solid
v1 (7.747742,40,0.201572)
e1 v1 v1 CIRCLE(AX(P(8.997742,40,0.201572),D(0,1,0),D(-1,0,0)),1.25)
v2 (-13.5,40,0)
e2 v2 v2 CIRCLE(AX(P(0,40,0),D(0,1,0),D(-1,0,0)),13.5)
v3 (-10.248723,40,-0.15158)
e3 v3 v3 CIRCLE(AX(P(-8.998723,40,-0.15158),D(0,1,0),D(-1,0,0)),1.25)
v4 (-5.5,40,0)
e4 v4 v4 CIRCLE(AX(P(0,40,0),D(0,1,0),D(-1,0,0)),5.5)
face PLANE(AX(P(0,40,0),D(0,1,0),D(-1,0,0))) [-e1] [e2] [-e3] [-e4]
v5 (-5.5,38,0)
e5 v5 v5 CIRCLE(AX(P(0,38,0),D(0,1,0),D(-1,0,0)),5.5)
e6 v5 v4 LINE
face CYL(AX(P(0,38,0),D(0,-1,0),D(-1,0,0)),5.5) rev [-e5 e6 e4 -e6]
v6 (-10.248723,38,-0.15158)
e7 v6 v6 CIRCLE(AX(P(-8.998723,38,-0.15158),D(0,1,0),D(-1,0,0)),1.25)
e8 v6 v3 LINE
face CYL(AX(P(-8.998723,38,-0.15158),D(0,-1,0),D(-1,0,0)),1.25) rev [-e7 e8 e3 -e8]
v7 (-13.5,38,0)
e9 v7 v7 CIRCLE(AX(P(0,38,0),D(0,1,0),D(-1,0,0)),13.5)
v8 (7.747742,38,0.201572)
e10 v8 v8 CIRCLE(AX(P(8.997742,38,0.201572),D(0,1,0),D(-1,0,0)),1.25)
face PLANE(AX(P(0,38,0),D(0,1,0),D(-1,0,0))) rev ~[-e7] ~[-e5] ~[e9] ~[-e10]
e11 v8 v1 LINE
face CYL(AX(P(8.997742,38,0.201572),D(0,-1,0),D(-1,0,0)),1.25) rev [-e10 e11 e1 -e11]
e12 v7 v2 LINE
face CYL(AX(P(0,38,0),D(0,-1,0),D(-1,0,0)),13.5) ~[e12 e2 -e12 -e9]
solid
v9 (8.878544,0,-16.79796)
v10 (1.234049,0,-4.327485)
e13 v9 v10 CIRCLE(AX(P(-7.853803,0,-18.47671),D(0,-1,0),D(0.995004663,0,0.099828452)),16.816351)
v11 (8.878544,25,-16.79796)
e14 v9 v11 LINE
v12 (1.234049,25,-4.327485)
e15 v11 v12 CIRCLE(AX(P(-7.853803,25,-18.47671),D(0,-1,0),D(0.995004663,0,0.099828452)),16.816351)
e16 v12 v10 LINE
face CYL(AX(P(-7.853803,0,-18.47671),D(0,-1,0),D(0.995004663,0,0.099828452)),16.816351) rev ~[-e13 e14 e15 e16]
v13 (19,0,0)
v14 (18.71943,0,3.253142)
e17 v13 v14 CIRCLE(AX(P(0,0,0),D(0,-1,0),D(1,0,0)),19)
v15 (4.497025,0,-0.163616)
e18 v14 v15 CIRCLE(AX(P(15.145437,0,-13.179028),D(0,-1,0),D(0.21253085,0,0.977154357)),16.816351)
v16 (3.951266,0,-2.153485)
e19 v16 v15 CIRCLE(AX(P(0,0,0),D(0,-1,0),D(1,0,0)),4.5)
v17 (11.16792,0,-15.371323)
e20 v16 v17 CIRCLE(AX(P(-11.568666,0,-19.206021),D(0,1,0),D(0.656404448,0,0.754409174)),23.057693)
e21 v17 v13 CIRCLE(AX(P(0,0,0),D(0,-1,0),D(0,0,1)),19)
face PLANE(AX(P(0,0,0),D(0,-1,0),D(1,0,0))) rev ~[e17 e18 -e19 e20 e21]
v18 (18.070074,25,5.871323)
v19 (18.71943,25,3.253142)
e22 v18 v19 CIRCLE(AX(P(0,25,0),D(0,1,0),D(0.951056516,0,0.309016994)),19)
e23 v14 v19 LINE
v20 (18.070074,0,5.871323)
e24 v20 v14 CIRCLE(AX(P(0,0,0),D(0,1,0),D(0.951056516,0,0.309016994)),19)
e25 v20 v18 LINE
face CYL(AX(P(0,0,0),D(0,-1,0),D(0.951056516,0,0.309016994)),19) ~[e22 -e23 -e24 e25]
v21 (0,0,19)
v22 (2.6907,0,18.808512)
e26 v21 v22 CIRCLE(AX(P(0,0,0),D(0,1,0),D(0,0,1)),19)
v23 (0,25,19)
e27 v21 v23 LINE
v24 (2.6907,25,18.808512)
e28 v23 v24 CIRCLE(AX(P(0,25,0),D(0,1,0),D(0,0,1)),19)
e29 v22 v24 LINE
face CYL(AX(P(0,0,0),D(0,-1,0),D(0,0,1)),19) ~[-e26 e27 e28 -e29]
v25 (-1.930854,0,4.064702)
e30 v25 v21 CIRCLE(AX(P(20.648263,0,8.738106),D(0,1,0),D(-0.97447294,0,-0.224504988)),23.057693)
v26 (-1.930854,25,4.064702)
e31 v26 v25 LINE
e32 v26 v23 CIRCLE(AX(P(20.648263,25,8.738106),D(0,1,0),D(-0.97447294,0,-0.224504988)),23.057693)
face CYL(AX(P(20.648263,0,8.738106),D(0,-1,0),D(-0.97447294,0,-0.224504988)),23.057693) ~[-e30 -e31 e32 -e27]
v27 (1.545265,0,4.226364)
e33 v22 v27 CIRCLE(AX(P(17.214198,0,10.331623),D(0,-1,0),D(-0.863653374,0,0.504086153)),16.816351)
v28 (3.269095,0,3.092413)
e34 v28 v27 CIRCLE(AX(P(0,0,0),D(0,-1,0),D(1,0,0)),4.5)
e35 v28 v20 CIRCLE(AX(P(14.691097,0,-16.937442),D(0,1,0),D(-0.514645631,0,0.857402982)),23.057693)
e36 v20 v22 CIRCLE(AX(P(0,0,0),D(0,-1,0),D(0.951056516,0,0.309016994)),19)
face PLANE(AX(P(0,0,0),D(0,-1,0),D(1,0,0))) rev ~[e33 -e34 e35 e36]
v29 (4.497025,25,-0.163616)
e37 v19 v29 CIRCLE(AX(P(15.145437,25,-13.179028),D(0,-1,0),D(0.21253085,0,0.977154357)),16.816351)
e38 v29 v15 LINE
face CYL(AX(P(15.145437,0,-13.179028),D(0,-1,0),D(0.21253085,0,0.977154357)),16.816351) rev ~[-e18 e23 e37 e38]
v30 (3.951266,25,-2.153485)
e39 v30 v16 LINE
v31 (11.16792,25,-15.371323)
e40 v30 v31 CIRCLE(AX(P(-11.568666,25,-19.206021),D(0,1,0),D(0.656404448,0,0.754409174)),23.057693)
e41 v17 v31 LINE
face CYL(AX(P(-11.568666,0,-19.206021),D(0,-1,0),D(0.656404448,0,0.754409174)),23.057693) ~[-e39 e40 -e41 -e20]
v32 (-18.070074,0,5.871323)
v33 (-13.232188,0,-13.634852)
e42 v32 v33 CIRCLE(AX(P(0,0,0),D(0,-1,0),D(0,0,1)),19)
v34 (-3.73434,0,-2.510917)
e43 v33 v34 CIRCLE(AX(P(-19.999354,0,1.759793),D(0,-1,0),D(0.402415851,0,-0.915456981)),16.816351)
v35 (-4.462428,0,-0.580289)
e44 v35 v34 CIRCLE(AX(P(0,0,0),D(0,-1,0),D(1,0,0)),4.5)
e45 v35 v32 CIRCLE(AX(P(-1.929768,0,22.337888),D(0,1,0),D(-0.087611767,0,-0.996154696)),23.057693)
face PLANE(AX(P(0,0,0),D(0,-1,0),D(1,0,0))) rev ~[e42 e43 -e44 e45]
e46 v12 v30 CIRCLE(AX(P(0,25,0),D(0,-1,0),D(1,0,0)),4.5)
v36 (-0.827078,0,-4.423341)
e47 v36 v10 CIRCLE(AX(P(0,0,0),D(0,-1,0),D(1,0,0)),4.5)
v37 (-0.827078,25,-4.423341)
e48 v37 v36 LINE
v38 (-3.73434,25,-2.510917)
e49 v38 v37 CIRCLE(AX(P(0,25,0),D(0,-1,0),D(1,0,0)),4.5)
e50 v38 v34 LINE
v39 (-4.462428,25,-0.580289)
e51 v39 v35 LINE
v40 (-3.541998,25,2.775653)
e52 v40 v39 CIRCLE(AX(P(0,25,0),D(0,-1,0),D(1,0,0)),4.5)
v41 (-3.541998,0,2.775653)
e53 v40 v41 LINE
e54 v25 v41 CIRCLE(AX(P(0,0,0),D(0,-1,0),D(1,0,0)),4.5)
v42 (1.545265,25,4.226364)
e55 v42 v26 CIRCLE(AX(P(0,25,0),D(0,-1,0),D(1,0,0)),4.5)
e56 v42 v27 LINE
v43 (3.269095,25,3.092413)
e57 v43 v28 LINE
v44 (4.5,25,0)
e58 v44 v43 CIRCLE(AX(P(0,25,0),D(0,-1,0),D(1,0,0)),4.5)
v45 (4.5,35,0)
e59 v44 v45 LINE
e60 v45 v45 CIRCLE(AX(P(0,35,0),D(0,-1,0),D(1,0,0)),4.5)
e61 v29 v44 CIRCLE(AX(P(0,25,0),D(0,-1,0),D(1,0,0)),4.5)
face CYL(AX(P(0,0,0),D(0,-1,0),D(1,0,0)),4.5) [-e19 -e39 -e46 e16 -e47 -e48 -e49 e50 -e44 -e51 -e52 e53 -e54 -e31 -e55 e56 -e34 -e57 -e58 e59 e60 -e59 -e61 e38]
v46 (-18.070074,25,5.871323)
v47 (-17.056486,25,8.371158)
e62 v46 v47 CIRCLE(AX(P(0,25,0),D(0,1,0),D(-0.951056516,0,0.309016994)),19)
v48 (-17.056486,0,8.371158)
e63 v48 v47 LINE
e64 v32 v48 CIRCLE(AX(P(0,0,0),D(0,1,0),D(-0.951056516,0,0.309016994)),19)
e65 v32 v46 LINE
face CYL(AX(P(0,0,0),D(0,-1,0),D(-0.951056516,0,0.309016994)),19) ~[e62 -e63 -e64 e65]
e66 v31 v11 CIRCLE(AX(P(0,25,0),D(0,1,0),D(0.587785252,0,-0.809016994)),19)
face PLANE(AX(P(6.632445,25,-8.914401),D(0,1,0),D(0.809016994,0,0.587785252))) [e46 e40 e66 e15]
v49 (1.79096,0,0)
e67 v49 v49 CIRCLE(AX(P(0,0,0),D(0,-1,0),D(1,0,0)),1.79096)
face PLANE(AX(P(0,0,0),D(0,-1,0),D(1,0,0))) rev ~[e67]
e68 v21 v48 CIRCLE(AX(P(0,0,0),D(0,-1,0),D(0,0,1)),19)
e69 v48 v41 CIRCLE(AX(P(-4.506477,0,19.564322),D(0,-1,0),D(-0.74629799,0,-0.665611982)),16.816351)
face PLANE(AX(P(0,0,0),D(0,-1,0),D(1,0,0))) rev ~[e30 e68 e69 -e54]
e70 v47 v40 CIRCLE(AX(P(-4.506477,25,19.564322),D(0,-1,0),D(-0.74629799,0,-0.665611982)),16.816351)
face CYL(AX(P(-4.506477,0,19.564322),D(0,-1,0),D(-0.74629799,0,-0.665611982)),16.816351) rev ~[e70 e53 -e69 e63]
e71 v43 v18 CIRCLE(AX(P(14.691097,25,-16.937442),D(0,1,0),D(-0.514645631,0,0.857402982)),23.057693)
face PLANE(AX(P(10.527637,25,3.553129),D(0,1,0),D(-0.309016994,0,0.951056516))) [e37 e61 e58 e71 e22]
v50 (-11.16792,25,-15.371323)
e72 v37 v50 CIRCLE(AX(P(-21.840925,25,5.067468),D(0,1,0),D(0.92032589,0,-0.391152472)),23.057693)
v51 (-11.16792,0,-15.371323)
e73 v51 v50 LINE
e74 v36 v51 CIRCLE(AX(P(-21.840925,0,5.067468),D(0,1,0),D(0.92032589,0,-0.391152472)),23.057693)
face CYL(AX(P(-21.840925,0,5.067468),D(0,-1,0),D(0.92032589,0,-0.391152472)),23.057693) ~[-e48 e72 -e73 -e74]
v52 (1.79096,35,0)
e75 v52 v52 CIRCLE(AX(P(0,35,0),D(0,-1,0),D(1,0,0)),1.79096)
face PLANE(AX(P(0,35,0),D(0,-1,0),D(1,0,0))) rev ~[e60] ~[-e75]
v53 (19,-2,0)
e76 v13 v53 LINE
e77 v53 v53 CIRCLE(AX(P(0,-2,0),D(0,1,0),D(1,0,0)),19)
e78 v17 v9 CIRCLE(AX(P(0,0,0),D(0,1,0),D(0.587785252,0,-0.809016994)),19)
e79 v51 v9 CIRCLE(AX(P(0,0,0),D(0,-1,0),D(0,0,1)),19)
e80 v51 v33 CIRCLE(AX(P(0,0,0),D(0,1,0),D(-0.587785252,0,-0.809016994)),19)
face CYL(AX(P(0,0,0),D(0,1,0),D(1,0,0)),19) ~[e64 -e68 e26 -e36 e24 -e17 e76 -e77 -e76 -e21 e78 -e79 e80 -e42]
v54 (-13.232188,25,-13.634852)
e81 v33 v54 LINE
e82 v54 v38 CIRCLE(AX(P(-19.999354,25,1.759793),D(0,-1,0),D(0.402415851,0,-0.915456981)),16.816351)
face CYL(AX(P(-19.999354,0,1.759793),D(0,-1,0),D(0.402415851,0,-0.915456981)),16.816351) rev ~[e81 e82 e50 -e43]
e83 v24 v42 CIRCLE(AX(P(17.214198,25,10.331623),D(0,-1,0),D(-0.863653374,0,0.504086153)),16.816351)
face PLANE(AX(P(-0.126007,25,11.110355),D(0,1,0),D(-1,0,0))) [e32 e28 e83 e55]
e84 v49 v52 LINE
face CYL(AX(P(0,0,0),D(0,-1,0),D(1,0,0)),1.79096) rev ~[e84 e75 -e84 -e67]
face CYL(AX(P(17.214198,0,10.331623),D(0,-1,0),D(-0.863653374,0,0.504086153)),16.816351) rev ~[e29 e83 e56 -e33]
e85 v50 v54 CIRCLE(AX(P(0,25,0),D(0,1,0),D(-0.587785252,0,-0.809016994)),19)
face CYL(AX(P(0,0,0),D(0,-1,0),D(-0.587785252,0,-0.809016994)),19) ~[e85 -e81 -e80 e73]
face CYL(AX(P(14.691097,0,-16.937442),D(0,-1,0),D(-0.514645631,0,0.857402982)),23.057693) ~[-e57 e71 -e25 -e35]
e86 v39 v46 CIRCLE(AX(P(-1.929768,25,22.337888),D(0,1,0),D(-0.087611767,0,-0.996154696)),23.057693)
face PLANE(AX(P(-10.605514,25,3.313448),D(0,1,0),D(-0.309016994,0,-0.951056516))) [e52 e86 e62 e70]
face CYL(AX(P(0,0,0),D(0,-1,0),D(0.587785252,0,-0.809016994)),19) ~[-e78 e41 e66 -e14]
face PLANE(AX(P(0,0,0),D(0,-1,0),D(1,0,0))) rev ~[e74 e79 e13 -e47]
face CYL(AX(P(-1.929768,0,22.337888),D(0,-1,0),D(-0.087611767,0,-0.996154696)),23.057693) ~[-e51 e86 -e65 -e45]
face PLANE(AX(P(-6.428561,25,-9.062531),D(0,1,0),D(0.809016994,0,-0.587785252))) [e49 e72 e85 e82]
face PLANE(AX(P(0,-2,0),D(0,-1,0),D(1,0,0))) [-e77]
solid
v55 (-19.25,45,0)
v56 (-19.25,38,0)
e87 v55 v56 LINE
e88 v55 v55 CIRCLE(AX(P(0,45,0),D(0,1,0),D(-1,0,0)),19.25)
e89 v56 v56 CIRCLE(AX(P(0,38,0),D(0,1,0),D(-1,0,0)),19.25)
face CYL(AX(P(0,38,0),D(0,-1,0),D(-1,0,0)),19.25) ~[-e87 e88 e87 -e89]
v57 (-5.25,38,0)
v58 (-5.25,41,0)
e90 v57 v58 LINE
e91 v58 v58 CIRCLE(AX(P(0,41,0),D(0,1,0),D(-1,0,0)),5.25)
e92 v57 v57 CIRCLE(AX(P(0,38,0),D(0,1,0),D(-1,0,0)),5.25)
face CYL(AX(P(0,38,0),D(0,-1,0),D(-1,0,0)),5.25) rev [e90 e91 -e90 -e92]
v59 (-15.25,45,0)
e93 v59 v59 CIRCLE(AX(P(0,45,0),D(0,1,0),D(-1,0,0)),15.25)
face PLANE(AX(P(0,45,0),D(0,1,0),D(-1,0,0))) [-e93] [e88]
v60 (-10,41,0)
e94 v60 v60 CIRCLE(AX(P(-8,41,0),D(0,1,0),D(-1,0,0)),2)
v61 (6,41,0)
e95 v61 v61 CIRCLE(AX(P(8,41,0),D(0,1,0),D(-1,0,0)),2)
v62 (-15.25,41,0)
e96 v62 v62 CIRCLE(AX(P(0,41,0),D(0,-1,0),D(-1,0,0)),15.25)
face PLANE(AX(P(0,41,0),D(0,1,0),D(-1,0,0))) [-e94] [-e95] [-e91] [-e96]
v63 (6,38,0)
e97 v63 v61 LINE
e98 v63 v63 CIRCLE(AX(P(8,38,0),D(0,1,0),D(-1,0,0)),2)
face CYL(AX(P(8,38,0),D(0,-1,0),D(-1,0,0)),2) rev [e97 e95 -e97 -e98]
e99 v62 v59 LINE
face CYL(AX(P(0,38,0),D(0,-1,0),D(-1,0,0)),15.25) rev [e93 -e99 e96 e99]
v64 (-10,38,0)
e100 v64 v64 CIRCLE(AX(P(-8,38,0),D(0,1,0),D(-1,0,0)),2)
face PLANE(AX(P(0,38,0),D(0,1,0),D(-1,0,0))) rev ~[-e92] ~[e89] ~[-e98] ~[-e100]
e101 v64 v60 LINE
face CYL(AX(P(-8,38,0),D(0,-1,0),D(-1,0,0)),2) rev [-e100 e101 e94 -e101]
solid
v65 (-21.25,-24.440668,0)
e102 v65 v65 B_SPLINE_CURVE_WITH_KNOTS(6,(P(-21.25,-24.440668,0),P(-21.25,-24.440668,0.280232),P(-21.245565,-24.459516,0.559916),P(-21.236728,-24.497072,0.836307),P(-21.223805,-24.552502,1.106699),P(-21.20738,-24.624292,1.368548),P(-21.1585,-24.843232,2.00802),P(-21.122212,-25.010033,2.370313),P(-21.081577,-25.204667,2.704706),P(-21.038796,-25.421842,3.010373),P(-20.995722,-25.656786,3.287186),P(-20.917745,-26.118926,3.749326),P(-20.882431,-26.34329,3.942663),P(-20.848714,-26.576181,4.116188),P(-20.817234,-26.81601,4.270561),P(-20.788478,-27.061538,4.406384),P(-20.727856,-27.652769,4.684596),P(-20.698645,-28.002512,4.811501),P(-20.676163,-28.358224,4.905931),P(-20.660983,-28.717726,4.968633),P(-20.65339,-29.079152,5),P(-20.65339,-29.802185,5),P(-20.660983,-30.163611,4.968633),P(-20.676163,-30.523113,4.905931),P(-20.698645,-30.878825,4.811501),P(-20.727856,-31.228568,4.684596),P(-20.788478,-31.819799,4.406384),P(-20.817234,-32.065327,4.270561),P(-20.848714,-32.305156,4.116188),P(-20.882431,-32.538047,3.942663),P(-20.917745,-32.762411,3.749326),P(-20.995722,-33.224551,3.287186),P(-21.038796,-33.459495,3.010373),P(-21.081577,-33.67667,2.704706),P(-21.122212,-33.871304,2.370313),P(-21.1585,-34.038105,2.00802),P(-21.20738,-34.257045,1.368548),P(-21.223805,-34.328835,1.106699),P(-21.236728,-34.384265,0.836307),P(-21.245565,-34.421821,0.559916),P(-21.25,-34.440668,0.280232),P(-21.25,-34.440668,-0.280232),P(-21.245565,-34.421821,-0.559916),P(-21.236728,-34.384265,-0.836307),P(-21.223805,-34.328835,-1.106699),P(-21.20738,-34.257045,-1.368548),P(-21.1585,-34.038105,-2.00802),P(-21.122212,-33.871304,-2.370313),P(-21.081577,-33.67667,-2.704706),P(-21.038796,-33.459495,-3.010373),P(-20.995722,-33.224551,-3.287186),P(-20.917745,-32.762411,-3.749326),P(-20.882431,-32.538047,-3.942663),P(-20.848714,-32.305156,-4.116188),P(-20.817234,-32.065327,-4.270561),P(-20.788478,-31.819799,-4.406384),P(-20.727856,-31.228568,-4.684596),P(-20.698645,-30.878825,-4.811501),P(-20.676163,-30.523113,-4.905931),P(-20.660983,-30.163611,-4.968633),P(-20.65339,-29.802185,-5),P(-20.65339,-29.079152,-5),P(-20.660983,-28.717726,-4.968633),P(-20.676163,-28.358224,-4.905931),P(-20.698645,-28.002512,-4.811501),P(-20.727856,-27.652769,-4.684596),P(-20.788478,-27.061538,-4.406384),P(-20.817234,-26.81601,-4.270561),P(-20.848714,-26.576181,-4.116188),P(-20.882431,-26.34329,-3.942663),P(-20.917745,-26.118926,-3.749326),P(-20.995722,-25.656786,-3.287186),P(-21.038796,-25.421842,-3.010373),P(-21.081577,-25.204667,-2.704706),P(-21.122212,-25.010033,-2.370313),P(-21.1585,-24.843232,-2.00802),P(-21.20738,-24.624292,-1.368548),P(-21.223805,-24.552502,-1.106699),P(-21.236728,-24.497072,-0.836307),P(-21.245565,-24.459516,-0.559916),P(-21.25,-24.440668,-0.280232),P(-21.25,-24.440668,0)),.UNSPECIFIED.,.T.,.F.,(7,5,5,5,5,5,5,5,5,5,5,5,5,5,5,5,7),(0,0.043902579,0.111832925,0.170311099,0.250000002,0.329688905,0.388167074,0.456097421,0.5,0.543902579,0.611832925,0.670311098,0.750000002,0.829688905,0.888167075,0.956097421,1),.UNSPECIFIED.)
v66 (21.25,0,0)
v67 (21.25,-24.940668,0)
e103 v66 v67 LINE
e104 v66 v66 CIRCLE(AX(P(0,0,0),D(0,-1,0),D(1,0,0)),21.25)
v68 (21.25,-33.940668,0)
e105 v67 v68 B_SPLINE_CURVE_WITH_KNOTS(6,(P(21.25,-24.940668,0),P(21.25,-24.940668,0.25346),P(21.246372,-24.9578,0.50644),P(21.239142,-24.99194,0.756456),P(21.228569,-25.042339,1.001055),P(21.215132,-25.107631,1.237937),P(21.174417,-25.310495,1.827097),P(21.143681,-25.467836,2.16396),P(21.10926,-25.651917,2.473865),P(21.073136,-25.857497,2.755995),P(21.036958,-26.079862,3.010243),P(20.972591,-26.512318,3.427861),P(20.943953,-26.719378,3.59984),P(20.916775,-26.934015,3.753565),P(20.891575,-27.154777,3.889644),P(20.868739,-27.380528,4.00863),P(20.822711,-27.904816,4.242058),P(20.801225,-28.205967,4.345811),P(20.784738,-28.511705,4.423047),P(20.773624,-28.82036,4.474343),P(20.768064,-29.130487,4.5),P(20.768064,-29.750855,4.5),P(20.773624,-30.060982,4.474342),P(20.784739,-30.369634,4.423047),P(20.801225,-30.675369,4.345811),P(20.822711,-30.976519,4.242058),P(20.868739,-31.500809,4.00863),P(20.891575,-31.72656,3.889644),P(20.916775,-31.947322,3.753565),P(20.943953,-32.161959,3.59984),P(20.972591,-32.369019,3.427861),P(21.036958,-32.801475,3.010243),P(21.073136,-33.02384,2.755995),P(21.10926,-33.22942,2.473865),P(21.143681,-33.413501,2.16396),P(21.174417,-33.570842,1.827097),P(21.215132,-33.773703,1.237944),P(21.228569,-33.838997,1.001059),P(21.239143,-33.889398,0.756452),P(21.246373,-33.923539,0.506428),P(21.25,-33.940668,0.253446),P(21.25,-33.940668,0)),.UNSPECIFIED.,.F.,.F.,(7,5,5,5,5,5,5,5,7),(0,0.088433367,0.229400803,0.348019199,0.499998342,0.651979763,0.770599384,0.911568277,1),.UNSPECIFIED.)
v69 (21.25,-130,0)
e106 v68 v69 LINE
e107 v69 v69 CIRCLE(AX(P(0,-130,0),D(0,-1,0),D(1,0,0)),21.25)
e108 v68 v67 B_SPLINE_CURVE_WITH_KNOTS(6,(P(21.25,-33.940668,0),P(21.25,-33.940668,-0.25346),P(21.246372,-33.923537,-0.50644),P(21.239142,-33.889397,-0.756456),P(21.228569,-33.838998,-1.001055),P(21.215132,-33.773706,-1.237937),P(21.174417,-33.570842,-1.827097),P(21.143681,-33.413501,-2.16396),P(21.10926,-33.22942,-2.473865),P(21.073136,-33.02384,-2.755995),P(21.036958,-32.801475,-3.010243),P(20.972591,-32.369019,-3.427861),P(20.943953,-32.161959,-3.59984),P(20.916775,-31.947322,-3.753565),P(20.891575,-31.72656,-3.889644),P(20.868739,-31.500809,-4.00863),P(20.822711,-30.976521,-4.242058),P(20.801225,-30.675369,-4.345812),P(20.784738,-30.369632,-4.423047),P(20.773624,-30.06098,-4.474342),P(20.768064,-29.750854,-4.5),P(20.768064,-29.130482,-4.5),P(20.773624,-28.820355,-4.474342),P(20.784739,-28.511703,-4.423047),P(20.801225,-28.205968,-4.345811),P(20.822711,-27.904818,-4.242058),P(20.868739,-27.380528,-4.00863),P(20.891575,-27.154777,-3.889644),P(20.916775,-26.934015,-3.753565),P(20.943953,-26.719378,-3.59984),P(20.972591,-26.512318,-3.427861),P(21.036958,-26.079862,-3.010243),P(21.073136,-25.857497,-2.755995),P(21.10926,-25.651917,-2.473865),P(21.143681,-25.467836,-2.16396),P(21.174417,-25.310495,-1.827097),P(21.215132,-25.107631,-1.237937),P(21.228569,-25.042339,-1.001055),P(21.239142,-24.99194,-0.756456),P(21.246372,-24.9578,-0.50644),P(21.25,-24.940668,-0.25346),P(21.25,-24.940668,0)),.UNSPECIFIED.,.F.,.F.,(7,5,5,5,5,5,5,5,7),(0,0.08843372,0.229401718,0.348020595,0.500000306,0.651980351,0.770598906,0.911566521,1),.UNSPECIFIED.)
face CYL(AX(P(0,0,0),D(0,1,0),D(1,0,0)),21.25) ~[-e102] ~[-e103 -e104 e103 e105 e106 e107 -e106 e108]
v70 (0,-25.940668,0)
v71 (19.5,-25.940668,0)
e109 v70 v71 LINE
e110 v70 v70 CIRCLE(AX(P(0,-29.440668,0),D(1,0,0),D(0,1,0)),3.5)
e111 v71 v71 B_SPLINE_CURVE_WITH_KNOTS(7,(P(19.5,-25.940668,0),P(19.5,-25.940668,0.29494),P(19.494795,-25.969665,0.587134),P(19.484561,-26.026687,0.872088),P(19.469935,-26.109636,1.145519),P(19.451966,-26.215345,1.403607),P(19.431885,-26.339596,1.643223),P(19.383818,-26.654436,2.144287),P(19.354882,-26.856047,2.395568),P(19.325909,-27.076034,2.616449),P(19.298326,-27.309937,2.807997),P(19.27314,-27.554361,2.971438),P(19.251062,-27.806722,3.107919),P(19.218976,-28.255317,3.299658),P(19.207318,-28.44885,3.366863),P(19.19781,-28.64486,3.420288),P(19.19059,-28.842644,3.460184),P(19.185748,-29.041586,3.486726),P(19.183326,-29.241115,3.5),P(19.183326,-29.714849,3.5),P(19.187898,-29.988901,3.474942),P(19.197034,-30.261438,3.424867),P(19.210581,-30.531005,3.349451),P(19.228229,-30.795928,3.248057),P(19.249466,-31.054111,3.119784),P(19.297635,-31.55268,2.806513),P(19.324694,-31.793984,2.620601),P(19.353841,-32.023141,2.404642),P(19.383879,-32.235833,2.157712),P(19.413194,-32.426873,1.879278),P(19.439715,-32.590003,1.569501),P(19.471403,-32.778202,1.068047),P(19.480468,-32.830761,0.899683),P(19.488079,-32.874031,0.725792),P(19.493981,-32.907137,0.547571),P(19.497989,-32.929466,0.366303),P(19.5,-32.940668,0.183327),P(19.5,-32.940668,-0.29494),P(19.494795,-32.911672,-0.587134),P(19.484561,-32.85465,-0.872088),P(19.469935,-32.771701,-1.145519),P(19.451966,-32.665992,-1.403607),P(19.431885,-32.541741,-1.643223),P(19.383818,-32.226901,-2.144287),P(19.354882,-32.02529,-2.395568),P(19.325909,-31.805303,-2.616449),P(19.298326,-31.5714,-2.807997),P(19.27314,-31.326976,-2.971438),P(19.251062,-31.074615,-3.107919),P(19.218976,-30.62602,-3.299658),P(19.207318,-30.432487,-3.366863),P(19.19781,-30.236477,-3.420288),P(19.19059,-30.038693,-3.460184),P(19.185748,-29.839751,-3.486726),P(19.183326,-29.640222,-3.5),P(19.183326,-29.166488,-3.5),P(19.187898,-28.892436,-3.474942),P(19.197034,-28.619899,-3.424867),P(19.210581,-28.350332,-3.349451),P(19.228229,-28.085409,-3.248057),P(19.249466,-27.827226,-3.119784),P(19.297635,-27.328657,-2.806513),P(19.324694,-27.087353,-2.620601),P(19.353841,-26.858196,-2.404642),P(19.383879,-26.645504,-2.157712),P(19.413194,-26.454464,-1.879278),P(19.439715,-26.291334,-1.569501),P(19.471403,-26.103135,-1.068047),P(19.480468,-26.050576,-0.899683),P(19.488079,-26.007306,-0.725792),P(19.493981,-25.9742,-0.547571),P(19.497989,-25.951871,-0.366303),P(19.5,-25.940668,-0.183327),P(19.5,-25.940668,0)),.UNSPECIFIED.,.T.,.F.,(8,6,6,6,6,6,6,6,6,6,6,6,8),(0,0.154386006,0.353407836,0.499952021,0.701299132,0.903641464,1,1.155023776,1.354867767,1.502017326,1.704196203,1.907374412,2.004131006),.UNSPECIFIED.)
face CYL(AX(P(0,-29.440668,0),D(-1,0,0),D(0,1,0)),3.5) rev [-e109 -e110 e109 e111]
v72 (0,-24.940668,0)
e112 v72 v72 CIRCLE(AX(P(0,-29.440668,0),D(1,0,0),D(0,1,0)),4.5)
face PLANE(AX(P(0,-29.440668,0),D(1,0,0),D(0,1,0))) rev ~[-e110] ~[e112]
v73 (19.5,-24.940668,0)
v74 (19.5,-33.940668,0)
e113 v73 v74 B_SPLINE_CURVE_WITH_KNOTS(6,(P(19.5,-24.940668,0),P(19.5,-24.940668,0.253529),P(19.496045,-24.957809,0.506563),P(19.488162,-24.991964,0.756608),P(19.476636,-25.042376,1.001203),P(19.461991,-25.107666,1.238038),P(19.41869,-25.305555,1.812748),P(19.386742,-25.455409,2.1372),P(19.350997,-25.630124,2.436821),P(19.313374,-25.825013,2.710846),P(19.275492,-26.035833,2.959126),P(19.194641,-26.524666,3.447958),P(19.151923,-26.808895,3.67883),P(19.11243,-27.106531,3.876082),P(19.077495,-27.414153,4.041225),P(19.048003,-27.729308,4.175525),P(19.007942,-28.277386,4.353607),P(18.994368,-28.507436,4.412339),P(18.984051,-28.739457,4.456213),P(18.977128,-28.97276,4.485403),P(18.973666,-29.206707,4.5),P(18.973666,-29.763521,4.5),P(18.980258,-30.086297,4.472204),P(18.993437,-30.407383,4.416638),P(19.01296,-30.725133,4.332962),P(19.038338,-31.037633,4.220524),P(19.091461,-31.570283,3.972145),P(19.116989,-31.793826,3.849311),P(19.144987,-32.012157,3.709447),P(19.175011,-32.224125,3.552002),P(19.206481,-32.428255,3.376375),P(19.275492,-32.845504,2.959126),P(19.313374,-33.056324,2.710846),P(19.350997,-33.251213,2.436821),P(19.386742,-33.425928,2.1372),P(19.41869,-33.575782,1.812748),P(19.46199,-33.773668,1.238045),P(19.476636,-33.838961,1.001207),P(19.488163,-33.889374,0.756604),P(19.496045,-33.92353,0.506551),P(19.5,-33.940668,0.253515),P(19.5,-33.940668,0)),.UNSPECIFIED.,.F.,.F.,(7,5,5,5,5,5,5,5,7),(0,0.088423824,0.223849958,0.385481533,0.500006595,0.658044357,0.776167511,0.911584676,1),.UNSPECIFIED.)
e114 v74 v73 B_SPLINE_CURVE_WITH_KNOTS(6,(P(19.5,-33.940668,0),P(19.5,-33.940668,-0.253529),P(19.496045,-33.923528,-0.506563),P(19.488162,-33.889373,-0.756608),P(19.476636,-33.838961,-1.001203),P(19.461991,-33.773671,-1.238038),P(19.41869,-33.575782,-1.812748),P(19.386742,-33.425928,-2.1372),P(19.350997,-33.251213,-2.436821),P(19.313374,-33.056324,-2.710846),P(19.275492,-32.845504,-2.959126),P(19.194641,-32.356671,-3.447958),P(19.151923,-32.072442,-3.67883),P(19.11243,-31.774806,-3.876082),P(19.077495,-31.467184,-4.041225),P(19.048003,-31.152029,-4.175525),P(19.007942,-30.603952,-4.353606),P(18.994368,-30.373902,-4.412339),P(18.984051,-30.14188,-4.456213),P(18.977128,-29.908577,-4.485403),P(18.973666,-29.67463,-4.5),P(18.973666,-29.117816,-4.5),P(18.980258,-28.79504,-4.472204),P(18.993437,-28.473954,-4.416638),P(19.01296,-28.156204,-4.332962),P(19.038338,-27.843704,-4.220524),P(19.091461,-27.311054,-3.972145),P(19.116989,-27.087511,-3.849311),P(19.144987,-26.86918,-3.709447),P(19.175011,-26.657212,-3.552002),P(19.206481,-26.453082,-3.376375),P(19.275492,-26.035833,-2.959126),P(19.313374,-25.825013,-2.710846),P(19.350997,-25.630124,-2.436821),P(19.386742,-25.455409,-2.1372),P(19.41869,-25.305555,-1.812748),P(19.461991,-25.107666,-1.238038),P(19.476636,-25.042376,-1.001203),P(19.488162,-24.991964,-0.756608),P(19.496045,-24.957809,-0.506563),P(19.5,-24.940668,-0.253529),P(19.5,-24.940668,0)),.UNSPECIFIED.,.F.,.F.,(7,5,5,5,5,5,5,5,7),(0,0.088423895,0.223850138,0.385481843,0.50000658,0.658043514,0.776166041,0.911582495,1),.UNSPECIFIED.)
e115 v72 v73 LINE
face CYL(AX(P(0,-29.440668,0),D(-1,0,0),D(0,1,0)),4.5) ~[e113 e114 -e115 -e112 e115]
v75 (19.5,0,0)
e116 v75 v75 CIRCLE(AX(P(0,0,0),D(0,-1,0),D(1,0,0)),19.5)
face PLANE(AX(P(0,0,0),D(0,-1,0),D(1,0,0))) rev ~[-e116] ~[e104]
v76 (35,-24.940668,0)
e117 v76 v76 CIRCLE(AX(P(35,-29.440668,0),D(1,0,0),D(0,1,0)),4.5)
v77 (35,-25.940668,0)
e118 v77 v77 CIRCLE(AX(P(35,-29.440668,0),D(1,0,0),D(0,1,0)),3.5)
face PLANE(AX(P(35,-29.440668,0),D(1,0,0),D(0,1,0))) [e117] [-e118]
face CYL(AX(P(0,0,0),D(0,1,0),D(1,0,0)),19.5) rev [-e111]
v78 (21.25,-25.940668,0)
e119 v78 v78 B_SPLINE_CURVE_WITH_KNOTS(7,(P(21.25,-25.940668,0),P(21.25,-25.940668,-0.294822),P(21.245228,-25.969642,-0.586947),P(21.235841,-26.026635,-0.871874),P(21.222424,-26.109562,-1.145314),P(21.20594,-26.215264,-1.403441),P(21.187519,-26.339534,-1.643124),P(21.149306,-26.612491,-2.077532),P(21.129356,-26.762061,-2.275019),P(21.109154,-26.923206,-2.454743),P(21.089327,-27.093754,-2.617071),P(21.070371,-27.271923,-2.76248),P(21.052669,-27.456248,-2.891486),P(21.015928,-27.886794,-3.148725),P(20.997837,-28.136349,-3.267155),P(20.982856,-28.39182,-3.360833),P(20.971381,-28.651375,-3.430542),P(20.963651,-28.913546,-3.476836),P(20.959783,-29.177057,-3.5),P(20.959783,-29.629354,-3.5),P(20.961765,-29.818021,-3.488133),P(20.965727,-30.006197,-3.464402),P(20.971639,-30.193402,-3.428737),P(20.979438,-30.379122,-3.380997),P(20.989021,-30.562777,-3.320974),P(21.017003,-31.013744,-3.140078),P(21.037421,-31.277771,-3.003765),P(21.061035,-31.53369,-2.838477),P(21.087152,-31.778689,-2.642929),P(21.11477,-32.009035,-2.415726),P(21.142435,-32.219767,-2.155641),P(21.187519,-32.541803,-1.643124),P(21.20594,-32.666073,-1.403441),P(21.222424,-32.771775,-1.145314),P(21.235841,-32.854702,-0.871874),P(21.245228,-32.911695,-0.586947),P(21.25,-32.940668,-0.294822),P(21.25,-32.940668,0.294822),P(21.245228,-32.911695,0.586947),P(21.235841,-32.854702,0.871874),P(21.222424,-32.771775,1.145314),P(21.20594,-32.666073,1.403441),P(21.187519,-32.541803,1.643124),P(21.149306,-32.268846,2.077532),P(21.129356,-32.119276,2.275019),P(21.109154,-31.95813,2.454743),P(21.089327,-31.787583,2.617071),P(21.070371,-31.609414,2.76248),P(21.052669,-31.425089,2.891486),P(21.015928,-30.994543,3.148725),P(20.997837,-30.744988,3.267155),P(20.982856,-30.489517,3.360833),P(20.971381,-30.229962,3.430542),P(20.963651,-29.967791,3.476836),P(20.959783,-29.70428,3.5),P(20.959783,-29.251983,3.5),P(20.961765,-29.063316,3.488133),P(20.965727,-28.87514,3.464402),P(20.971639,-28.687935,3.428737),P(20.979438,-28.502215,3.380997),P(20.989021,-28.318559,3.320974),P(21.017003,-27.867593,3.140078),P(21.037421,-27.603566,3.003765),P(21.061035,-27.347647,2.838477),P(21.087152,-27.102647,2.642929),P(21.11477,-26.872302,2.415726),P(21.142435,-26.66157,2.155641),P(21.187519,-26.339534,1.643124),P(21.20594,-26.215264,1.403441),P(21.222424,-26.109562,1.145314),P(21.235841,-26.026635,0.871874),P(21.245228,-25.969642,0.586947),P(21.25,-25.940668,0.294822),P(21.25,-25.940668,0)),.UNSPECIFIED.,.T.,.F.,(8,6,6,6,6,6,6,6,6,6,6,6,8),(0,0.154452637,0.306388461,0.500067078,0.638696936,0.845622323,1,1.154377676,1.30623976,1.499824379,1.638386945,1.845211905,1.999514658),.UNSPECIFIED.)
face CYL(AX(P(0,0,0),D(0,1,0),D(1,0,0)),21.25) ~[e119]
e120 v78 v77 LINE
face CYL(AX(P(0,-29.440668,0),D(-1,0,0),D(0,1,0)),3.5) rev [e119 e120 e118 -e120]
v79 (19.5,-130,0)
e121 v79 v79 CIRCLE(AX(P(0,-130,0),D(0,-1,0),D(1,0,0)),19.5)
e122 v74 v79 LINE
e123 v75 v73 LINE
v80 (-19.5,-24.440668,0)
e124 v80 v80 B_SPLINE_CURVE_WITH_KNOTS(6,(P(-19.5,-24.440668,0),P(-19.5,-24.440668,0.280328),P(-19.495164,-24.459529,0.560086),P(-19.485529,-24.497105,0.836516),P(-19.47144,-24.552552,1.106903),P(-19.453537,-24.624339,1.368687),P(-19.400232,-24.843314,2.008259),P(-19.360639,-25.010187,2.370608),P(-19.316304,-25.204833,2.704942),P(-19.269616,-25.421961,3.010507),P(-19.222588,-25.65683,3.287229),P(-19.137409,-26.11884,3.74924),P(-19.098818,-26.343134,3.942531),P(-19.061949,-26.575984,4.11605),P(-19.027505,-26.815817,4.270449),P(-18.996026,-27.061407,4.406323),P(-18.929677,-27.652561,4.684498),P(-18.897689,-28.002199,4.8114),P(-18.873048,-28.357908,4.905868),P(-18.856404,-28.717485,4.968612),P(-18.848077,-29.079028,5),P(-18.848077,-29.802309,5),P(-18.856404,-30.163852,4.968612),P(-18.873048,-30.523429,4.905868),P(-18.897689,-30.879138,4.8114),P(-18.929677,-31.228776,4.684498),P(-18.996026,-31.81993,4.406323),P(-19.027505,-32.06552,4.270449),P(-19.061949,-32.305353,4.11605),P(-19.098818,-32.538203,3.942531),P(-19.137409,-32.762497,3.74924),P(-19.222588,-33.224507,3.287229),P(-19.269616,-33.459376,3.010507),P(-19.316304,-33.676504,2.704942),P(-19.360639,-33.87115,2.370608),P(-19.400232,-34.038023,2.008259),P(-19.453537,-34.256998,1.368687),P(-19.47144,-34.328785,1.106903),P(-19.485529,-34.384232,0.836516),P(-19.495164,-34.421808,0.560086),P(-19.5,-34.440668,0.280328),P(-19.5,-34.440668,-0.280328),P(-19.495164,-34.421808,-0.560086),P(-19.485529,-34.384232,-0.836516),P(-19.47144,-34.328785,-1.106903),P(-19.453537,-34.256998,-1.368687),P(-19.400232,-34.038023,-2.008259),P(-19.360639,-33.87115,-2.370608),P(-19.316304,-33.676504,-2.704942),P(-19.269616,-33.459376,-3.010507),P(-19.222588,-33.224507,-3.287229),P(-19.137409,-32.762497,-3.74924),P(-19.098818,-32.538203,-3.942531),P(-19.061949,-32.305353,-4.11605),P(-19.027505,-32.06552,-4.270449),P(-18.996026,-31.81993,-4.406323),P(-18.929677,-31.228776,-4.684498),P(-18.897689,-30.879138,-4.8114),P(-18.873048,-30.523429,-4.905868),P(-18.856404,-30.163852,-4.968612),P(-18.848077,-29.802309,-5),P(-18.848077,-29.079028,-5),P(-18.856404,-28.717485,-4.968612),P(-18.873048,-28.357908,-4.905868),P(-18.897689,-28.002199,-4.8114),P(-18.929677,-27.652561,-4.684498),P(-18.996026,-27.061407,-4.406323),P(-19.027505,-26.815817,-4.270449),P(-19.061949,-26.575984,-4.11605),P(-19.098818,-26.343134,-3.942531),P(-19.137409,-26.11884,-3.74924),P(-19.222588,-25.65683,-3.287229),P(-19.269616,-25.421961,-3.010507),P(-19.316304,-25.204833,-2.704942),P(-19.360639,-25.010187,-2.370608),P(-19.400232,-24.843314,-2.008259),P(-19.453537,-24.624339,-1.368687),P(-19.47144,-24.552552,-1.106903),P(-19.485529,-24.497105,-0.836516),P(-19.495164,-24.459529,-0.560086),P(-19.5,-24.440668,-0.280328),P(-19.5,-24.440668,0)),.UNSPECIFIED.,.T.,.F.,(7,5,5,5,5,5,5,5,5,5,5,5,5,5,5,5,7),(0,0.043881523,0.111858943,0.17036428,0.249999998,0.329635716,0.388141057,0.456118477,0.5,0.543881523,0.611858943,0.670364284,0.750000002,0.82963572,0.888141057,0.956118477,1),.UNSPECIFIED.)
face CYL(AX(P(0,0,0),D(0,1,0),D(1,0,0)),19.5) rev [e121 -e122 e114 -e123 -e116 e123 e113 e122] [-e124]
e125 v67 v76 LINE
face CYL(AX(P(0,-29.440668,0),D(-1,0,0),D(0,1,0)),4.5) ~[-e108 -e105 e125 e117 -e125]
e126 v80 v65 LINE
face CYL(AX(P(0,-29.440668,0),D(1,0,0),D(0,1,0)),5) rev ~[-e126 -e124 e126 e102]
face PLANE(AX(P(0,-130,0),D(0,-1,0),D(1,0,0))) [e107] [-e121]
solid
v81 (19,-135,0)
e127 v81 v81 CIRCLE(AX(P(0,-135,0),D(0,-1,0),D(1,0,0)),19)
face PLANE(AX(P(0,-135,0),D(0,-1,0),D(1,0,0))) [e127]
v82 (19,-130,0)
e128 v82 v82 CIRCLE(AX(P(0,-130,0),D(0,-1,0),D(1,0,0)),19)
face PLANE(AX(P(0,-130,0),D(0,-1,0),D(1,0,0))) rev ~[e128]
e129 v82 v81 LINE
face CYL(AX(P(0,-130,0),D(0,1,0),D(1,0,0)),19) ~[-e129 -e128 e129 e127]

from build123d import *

# Parameters (mm, degrees)
F0_R      = 21.25
F0_R_2    = 19.5
F1_DEPTH  = 130
F2_R      = 19
F3_DEPTH  = 2
F6_DEPTH  = 25
F7_COUNT  = 5
F8_R      = 4.5
F8_R_2    = 1.7909602392
F9_DEPTH  = 35
F11_R     = 13.5
F11_R_2   = 1.25
F11_R_3   = 5.5
F12_DEPTH = 2
F13_R     = 19
F14_DEPTH = 5
F15_R     = 19.25
F15_R_2   = 2
F15_R_3   = 5.25
F17_DEPTH = 3
F16_R     = 19.25
F16_R_2   = 15.25
F18_DEPTH = 7
F19_R     = 5
F20_DEPTH = 25
F21_R     = 4.5
F21_R_2   = 3.5
F22_DEPTH = 35


with BuildPart() as f1:
    # F0 (on Front) → F1 (new body)
    with BuildSketch(Plane.XZ):
        Circle(F0_R)
        Circle(F0_R_2, mode=Mode.SUBTRACT)
    extrude(amount=F1_DEPTH)

    # F19 (on Right) → F20 (cut)
    with BuildSketch(Plane.YZ):
        with Locations((-29.4406684911, 0)):
            Circle(F19_R)
    extrude(amount=-F20_DEPTH, mode=Mode.SUBTRACT)

    # F21 (on Right) → F22 (join)
    with BuildSketch(Plane.YZ):
        with Locations((-29.4406684911, 0)):
            Circle(F21_R)
        with Locations((-29.4406684911, 0)):
            Circle(F21_R_2, mode=Mode.SUBTRACT)
    extrude(amount=F22_DEPTH)


with BuildPart() as f3:
    # F2 (on Front) → F3 (new body)
    with BuildSketch(Plane.XZ):
        Circle(F2_R)
    extrude(amount=F3_DEPTH)

    # F5 (on face) → F6 (join)
    with BuildSketch(Plane(origin=(0, 0, 0), x_dir=(-1, 0, 0), z_dir=(0, 1, 0))):
        with BuildLine():
            ThreePointArc((-1.8208355153, 3.5615387161), (0, 4), (1.8208355153, 3.5615387161))
            ThreePointArc((1.8208355153, 3.5615387161), (2.2507159796, 11.4388461611), (0, 19))
            ThreePointArc((0, 19), (-1.3487526298, 18.9520676008), (-2.690700107, 18.8085122467))
            ThreePointArc((-2.690700107, 18.8085122467), (-0.4251484769, 11.2894652862), (-1.8208355153, 3.5615387161))
        make_face()
    extrude(amount=F6_DEPTH)


with BuildPart() as f7_1:
    # F7: instance of F3
    add(f3.part.rotate(Axis((0, 13.0243711174, 0), (0, 1, 0)), 1 * 360 / F7_COUNT))


with BuildPart() as f7_2:
    # F7: instance of F3
    add(f3.part.rotate(Axis((0, 13.0243711174, 0), (0, 1, 0)), 2 * 360 / F7_COUNT))


with BuildPart() as f7_3:
    # F7: instance of F3
    add(f3.part.rotate(Axis((0, 13.0243711174, 0), (0, 1, 0)), 3 * 360 / F7_COUNT))


with BuildPart() as f7_4:
    # F7: instance of F3
    add(f3.part.rotate(Axis((0, 13.0243711174, 0), (0, 1, 0)), 4 * 360 / F7_COUNT))


with BuildPart() as f3_1:
    add(f3.part)

    add(f7_1.part)  # F9 merges F7_1

    add(f7_2.part)  # F9 merges F7_2

    add(f7_3.part)  # F9 merges F7_3

    add(f7_4.part)  # F9 merges F7_4
    # F8 (on Front) → F9 (join)
    with BuildSketch(Plane.XZ):
        Circle(F8_R)
        Circle(F8_R_2, mode=Mode.SUBTRACT)
    extrude(amount=-F9_DEPTH)


with BuildPart() as f12:
    # F11 (on offset) → F12 (new body)
    with BuildSketch(Plane(origin=(0, 38, 0), x_dir=(-1, 0, 0), z_dir=(0, 1, 0))):
        Circle(F11_R)
        with Locations((8.9987234333, -0.1515802457)):
            Circle(F11_R_2, mode=Mode.SUBTRACT)
        with Locations((-8.9977424343, 0.2015715413)):
            Circle(F11_R_2, mode=Mode.SUBTRACT)
        Circle(F11_R_3, mode=Mode.SUBTRACT)
    extrude(amount=F12_DEPTH)


with BuildPart() as f14:
    # F13 (on face) → F14 (new body)
    with BuildSketch(Plane.XZ.offset(130)):
        Circle(F13_R)
    extrude(amount=F14_DEPTH)


with BuildPart() as f17:
    # F15 (on offset) → F17 (new body)
    with BuildSketch(Plane(origin=(0, 38, 0), x_dir=(-1, 0, 0), z_dir=(0, 1, 0))):
        Circle(F15_R)
        with Locations((-8, 0)):
            Circle(F15_R_2, mode=Mode.SUBTRACT)
        Circle(F15_R_3, mode=Mode.SUBTRACT)
        with Locations((8, 0)):
            Circle(F15_R_2, mode=Mode.SUBTRACT)
    extrude(amount=F17_DEPTH)

    # F16 (on face) → F18 (join)
    with BuildSketch(Plane(origin=(0, 38, 0), x_dir=(-1, 0, 0), z_dir=(0, 1, 0))):
        Circle(F16_R)
        Circle(F16_R_2, mode=Mode.SUBTRACT)
    extrude(amount=F18_DEPTH)


solid = Compound([f1.part, f3_1.part, f12.part, f14.part, f17.part])
